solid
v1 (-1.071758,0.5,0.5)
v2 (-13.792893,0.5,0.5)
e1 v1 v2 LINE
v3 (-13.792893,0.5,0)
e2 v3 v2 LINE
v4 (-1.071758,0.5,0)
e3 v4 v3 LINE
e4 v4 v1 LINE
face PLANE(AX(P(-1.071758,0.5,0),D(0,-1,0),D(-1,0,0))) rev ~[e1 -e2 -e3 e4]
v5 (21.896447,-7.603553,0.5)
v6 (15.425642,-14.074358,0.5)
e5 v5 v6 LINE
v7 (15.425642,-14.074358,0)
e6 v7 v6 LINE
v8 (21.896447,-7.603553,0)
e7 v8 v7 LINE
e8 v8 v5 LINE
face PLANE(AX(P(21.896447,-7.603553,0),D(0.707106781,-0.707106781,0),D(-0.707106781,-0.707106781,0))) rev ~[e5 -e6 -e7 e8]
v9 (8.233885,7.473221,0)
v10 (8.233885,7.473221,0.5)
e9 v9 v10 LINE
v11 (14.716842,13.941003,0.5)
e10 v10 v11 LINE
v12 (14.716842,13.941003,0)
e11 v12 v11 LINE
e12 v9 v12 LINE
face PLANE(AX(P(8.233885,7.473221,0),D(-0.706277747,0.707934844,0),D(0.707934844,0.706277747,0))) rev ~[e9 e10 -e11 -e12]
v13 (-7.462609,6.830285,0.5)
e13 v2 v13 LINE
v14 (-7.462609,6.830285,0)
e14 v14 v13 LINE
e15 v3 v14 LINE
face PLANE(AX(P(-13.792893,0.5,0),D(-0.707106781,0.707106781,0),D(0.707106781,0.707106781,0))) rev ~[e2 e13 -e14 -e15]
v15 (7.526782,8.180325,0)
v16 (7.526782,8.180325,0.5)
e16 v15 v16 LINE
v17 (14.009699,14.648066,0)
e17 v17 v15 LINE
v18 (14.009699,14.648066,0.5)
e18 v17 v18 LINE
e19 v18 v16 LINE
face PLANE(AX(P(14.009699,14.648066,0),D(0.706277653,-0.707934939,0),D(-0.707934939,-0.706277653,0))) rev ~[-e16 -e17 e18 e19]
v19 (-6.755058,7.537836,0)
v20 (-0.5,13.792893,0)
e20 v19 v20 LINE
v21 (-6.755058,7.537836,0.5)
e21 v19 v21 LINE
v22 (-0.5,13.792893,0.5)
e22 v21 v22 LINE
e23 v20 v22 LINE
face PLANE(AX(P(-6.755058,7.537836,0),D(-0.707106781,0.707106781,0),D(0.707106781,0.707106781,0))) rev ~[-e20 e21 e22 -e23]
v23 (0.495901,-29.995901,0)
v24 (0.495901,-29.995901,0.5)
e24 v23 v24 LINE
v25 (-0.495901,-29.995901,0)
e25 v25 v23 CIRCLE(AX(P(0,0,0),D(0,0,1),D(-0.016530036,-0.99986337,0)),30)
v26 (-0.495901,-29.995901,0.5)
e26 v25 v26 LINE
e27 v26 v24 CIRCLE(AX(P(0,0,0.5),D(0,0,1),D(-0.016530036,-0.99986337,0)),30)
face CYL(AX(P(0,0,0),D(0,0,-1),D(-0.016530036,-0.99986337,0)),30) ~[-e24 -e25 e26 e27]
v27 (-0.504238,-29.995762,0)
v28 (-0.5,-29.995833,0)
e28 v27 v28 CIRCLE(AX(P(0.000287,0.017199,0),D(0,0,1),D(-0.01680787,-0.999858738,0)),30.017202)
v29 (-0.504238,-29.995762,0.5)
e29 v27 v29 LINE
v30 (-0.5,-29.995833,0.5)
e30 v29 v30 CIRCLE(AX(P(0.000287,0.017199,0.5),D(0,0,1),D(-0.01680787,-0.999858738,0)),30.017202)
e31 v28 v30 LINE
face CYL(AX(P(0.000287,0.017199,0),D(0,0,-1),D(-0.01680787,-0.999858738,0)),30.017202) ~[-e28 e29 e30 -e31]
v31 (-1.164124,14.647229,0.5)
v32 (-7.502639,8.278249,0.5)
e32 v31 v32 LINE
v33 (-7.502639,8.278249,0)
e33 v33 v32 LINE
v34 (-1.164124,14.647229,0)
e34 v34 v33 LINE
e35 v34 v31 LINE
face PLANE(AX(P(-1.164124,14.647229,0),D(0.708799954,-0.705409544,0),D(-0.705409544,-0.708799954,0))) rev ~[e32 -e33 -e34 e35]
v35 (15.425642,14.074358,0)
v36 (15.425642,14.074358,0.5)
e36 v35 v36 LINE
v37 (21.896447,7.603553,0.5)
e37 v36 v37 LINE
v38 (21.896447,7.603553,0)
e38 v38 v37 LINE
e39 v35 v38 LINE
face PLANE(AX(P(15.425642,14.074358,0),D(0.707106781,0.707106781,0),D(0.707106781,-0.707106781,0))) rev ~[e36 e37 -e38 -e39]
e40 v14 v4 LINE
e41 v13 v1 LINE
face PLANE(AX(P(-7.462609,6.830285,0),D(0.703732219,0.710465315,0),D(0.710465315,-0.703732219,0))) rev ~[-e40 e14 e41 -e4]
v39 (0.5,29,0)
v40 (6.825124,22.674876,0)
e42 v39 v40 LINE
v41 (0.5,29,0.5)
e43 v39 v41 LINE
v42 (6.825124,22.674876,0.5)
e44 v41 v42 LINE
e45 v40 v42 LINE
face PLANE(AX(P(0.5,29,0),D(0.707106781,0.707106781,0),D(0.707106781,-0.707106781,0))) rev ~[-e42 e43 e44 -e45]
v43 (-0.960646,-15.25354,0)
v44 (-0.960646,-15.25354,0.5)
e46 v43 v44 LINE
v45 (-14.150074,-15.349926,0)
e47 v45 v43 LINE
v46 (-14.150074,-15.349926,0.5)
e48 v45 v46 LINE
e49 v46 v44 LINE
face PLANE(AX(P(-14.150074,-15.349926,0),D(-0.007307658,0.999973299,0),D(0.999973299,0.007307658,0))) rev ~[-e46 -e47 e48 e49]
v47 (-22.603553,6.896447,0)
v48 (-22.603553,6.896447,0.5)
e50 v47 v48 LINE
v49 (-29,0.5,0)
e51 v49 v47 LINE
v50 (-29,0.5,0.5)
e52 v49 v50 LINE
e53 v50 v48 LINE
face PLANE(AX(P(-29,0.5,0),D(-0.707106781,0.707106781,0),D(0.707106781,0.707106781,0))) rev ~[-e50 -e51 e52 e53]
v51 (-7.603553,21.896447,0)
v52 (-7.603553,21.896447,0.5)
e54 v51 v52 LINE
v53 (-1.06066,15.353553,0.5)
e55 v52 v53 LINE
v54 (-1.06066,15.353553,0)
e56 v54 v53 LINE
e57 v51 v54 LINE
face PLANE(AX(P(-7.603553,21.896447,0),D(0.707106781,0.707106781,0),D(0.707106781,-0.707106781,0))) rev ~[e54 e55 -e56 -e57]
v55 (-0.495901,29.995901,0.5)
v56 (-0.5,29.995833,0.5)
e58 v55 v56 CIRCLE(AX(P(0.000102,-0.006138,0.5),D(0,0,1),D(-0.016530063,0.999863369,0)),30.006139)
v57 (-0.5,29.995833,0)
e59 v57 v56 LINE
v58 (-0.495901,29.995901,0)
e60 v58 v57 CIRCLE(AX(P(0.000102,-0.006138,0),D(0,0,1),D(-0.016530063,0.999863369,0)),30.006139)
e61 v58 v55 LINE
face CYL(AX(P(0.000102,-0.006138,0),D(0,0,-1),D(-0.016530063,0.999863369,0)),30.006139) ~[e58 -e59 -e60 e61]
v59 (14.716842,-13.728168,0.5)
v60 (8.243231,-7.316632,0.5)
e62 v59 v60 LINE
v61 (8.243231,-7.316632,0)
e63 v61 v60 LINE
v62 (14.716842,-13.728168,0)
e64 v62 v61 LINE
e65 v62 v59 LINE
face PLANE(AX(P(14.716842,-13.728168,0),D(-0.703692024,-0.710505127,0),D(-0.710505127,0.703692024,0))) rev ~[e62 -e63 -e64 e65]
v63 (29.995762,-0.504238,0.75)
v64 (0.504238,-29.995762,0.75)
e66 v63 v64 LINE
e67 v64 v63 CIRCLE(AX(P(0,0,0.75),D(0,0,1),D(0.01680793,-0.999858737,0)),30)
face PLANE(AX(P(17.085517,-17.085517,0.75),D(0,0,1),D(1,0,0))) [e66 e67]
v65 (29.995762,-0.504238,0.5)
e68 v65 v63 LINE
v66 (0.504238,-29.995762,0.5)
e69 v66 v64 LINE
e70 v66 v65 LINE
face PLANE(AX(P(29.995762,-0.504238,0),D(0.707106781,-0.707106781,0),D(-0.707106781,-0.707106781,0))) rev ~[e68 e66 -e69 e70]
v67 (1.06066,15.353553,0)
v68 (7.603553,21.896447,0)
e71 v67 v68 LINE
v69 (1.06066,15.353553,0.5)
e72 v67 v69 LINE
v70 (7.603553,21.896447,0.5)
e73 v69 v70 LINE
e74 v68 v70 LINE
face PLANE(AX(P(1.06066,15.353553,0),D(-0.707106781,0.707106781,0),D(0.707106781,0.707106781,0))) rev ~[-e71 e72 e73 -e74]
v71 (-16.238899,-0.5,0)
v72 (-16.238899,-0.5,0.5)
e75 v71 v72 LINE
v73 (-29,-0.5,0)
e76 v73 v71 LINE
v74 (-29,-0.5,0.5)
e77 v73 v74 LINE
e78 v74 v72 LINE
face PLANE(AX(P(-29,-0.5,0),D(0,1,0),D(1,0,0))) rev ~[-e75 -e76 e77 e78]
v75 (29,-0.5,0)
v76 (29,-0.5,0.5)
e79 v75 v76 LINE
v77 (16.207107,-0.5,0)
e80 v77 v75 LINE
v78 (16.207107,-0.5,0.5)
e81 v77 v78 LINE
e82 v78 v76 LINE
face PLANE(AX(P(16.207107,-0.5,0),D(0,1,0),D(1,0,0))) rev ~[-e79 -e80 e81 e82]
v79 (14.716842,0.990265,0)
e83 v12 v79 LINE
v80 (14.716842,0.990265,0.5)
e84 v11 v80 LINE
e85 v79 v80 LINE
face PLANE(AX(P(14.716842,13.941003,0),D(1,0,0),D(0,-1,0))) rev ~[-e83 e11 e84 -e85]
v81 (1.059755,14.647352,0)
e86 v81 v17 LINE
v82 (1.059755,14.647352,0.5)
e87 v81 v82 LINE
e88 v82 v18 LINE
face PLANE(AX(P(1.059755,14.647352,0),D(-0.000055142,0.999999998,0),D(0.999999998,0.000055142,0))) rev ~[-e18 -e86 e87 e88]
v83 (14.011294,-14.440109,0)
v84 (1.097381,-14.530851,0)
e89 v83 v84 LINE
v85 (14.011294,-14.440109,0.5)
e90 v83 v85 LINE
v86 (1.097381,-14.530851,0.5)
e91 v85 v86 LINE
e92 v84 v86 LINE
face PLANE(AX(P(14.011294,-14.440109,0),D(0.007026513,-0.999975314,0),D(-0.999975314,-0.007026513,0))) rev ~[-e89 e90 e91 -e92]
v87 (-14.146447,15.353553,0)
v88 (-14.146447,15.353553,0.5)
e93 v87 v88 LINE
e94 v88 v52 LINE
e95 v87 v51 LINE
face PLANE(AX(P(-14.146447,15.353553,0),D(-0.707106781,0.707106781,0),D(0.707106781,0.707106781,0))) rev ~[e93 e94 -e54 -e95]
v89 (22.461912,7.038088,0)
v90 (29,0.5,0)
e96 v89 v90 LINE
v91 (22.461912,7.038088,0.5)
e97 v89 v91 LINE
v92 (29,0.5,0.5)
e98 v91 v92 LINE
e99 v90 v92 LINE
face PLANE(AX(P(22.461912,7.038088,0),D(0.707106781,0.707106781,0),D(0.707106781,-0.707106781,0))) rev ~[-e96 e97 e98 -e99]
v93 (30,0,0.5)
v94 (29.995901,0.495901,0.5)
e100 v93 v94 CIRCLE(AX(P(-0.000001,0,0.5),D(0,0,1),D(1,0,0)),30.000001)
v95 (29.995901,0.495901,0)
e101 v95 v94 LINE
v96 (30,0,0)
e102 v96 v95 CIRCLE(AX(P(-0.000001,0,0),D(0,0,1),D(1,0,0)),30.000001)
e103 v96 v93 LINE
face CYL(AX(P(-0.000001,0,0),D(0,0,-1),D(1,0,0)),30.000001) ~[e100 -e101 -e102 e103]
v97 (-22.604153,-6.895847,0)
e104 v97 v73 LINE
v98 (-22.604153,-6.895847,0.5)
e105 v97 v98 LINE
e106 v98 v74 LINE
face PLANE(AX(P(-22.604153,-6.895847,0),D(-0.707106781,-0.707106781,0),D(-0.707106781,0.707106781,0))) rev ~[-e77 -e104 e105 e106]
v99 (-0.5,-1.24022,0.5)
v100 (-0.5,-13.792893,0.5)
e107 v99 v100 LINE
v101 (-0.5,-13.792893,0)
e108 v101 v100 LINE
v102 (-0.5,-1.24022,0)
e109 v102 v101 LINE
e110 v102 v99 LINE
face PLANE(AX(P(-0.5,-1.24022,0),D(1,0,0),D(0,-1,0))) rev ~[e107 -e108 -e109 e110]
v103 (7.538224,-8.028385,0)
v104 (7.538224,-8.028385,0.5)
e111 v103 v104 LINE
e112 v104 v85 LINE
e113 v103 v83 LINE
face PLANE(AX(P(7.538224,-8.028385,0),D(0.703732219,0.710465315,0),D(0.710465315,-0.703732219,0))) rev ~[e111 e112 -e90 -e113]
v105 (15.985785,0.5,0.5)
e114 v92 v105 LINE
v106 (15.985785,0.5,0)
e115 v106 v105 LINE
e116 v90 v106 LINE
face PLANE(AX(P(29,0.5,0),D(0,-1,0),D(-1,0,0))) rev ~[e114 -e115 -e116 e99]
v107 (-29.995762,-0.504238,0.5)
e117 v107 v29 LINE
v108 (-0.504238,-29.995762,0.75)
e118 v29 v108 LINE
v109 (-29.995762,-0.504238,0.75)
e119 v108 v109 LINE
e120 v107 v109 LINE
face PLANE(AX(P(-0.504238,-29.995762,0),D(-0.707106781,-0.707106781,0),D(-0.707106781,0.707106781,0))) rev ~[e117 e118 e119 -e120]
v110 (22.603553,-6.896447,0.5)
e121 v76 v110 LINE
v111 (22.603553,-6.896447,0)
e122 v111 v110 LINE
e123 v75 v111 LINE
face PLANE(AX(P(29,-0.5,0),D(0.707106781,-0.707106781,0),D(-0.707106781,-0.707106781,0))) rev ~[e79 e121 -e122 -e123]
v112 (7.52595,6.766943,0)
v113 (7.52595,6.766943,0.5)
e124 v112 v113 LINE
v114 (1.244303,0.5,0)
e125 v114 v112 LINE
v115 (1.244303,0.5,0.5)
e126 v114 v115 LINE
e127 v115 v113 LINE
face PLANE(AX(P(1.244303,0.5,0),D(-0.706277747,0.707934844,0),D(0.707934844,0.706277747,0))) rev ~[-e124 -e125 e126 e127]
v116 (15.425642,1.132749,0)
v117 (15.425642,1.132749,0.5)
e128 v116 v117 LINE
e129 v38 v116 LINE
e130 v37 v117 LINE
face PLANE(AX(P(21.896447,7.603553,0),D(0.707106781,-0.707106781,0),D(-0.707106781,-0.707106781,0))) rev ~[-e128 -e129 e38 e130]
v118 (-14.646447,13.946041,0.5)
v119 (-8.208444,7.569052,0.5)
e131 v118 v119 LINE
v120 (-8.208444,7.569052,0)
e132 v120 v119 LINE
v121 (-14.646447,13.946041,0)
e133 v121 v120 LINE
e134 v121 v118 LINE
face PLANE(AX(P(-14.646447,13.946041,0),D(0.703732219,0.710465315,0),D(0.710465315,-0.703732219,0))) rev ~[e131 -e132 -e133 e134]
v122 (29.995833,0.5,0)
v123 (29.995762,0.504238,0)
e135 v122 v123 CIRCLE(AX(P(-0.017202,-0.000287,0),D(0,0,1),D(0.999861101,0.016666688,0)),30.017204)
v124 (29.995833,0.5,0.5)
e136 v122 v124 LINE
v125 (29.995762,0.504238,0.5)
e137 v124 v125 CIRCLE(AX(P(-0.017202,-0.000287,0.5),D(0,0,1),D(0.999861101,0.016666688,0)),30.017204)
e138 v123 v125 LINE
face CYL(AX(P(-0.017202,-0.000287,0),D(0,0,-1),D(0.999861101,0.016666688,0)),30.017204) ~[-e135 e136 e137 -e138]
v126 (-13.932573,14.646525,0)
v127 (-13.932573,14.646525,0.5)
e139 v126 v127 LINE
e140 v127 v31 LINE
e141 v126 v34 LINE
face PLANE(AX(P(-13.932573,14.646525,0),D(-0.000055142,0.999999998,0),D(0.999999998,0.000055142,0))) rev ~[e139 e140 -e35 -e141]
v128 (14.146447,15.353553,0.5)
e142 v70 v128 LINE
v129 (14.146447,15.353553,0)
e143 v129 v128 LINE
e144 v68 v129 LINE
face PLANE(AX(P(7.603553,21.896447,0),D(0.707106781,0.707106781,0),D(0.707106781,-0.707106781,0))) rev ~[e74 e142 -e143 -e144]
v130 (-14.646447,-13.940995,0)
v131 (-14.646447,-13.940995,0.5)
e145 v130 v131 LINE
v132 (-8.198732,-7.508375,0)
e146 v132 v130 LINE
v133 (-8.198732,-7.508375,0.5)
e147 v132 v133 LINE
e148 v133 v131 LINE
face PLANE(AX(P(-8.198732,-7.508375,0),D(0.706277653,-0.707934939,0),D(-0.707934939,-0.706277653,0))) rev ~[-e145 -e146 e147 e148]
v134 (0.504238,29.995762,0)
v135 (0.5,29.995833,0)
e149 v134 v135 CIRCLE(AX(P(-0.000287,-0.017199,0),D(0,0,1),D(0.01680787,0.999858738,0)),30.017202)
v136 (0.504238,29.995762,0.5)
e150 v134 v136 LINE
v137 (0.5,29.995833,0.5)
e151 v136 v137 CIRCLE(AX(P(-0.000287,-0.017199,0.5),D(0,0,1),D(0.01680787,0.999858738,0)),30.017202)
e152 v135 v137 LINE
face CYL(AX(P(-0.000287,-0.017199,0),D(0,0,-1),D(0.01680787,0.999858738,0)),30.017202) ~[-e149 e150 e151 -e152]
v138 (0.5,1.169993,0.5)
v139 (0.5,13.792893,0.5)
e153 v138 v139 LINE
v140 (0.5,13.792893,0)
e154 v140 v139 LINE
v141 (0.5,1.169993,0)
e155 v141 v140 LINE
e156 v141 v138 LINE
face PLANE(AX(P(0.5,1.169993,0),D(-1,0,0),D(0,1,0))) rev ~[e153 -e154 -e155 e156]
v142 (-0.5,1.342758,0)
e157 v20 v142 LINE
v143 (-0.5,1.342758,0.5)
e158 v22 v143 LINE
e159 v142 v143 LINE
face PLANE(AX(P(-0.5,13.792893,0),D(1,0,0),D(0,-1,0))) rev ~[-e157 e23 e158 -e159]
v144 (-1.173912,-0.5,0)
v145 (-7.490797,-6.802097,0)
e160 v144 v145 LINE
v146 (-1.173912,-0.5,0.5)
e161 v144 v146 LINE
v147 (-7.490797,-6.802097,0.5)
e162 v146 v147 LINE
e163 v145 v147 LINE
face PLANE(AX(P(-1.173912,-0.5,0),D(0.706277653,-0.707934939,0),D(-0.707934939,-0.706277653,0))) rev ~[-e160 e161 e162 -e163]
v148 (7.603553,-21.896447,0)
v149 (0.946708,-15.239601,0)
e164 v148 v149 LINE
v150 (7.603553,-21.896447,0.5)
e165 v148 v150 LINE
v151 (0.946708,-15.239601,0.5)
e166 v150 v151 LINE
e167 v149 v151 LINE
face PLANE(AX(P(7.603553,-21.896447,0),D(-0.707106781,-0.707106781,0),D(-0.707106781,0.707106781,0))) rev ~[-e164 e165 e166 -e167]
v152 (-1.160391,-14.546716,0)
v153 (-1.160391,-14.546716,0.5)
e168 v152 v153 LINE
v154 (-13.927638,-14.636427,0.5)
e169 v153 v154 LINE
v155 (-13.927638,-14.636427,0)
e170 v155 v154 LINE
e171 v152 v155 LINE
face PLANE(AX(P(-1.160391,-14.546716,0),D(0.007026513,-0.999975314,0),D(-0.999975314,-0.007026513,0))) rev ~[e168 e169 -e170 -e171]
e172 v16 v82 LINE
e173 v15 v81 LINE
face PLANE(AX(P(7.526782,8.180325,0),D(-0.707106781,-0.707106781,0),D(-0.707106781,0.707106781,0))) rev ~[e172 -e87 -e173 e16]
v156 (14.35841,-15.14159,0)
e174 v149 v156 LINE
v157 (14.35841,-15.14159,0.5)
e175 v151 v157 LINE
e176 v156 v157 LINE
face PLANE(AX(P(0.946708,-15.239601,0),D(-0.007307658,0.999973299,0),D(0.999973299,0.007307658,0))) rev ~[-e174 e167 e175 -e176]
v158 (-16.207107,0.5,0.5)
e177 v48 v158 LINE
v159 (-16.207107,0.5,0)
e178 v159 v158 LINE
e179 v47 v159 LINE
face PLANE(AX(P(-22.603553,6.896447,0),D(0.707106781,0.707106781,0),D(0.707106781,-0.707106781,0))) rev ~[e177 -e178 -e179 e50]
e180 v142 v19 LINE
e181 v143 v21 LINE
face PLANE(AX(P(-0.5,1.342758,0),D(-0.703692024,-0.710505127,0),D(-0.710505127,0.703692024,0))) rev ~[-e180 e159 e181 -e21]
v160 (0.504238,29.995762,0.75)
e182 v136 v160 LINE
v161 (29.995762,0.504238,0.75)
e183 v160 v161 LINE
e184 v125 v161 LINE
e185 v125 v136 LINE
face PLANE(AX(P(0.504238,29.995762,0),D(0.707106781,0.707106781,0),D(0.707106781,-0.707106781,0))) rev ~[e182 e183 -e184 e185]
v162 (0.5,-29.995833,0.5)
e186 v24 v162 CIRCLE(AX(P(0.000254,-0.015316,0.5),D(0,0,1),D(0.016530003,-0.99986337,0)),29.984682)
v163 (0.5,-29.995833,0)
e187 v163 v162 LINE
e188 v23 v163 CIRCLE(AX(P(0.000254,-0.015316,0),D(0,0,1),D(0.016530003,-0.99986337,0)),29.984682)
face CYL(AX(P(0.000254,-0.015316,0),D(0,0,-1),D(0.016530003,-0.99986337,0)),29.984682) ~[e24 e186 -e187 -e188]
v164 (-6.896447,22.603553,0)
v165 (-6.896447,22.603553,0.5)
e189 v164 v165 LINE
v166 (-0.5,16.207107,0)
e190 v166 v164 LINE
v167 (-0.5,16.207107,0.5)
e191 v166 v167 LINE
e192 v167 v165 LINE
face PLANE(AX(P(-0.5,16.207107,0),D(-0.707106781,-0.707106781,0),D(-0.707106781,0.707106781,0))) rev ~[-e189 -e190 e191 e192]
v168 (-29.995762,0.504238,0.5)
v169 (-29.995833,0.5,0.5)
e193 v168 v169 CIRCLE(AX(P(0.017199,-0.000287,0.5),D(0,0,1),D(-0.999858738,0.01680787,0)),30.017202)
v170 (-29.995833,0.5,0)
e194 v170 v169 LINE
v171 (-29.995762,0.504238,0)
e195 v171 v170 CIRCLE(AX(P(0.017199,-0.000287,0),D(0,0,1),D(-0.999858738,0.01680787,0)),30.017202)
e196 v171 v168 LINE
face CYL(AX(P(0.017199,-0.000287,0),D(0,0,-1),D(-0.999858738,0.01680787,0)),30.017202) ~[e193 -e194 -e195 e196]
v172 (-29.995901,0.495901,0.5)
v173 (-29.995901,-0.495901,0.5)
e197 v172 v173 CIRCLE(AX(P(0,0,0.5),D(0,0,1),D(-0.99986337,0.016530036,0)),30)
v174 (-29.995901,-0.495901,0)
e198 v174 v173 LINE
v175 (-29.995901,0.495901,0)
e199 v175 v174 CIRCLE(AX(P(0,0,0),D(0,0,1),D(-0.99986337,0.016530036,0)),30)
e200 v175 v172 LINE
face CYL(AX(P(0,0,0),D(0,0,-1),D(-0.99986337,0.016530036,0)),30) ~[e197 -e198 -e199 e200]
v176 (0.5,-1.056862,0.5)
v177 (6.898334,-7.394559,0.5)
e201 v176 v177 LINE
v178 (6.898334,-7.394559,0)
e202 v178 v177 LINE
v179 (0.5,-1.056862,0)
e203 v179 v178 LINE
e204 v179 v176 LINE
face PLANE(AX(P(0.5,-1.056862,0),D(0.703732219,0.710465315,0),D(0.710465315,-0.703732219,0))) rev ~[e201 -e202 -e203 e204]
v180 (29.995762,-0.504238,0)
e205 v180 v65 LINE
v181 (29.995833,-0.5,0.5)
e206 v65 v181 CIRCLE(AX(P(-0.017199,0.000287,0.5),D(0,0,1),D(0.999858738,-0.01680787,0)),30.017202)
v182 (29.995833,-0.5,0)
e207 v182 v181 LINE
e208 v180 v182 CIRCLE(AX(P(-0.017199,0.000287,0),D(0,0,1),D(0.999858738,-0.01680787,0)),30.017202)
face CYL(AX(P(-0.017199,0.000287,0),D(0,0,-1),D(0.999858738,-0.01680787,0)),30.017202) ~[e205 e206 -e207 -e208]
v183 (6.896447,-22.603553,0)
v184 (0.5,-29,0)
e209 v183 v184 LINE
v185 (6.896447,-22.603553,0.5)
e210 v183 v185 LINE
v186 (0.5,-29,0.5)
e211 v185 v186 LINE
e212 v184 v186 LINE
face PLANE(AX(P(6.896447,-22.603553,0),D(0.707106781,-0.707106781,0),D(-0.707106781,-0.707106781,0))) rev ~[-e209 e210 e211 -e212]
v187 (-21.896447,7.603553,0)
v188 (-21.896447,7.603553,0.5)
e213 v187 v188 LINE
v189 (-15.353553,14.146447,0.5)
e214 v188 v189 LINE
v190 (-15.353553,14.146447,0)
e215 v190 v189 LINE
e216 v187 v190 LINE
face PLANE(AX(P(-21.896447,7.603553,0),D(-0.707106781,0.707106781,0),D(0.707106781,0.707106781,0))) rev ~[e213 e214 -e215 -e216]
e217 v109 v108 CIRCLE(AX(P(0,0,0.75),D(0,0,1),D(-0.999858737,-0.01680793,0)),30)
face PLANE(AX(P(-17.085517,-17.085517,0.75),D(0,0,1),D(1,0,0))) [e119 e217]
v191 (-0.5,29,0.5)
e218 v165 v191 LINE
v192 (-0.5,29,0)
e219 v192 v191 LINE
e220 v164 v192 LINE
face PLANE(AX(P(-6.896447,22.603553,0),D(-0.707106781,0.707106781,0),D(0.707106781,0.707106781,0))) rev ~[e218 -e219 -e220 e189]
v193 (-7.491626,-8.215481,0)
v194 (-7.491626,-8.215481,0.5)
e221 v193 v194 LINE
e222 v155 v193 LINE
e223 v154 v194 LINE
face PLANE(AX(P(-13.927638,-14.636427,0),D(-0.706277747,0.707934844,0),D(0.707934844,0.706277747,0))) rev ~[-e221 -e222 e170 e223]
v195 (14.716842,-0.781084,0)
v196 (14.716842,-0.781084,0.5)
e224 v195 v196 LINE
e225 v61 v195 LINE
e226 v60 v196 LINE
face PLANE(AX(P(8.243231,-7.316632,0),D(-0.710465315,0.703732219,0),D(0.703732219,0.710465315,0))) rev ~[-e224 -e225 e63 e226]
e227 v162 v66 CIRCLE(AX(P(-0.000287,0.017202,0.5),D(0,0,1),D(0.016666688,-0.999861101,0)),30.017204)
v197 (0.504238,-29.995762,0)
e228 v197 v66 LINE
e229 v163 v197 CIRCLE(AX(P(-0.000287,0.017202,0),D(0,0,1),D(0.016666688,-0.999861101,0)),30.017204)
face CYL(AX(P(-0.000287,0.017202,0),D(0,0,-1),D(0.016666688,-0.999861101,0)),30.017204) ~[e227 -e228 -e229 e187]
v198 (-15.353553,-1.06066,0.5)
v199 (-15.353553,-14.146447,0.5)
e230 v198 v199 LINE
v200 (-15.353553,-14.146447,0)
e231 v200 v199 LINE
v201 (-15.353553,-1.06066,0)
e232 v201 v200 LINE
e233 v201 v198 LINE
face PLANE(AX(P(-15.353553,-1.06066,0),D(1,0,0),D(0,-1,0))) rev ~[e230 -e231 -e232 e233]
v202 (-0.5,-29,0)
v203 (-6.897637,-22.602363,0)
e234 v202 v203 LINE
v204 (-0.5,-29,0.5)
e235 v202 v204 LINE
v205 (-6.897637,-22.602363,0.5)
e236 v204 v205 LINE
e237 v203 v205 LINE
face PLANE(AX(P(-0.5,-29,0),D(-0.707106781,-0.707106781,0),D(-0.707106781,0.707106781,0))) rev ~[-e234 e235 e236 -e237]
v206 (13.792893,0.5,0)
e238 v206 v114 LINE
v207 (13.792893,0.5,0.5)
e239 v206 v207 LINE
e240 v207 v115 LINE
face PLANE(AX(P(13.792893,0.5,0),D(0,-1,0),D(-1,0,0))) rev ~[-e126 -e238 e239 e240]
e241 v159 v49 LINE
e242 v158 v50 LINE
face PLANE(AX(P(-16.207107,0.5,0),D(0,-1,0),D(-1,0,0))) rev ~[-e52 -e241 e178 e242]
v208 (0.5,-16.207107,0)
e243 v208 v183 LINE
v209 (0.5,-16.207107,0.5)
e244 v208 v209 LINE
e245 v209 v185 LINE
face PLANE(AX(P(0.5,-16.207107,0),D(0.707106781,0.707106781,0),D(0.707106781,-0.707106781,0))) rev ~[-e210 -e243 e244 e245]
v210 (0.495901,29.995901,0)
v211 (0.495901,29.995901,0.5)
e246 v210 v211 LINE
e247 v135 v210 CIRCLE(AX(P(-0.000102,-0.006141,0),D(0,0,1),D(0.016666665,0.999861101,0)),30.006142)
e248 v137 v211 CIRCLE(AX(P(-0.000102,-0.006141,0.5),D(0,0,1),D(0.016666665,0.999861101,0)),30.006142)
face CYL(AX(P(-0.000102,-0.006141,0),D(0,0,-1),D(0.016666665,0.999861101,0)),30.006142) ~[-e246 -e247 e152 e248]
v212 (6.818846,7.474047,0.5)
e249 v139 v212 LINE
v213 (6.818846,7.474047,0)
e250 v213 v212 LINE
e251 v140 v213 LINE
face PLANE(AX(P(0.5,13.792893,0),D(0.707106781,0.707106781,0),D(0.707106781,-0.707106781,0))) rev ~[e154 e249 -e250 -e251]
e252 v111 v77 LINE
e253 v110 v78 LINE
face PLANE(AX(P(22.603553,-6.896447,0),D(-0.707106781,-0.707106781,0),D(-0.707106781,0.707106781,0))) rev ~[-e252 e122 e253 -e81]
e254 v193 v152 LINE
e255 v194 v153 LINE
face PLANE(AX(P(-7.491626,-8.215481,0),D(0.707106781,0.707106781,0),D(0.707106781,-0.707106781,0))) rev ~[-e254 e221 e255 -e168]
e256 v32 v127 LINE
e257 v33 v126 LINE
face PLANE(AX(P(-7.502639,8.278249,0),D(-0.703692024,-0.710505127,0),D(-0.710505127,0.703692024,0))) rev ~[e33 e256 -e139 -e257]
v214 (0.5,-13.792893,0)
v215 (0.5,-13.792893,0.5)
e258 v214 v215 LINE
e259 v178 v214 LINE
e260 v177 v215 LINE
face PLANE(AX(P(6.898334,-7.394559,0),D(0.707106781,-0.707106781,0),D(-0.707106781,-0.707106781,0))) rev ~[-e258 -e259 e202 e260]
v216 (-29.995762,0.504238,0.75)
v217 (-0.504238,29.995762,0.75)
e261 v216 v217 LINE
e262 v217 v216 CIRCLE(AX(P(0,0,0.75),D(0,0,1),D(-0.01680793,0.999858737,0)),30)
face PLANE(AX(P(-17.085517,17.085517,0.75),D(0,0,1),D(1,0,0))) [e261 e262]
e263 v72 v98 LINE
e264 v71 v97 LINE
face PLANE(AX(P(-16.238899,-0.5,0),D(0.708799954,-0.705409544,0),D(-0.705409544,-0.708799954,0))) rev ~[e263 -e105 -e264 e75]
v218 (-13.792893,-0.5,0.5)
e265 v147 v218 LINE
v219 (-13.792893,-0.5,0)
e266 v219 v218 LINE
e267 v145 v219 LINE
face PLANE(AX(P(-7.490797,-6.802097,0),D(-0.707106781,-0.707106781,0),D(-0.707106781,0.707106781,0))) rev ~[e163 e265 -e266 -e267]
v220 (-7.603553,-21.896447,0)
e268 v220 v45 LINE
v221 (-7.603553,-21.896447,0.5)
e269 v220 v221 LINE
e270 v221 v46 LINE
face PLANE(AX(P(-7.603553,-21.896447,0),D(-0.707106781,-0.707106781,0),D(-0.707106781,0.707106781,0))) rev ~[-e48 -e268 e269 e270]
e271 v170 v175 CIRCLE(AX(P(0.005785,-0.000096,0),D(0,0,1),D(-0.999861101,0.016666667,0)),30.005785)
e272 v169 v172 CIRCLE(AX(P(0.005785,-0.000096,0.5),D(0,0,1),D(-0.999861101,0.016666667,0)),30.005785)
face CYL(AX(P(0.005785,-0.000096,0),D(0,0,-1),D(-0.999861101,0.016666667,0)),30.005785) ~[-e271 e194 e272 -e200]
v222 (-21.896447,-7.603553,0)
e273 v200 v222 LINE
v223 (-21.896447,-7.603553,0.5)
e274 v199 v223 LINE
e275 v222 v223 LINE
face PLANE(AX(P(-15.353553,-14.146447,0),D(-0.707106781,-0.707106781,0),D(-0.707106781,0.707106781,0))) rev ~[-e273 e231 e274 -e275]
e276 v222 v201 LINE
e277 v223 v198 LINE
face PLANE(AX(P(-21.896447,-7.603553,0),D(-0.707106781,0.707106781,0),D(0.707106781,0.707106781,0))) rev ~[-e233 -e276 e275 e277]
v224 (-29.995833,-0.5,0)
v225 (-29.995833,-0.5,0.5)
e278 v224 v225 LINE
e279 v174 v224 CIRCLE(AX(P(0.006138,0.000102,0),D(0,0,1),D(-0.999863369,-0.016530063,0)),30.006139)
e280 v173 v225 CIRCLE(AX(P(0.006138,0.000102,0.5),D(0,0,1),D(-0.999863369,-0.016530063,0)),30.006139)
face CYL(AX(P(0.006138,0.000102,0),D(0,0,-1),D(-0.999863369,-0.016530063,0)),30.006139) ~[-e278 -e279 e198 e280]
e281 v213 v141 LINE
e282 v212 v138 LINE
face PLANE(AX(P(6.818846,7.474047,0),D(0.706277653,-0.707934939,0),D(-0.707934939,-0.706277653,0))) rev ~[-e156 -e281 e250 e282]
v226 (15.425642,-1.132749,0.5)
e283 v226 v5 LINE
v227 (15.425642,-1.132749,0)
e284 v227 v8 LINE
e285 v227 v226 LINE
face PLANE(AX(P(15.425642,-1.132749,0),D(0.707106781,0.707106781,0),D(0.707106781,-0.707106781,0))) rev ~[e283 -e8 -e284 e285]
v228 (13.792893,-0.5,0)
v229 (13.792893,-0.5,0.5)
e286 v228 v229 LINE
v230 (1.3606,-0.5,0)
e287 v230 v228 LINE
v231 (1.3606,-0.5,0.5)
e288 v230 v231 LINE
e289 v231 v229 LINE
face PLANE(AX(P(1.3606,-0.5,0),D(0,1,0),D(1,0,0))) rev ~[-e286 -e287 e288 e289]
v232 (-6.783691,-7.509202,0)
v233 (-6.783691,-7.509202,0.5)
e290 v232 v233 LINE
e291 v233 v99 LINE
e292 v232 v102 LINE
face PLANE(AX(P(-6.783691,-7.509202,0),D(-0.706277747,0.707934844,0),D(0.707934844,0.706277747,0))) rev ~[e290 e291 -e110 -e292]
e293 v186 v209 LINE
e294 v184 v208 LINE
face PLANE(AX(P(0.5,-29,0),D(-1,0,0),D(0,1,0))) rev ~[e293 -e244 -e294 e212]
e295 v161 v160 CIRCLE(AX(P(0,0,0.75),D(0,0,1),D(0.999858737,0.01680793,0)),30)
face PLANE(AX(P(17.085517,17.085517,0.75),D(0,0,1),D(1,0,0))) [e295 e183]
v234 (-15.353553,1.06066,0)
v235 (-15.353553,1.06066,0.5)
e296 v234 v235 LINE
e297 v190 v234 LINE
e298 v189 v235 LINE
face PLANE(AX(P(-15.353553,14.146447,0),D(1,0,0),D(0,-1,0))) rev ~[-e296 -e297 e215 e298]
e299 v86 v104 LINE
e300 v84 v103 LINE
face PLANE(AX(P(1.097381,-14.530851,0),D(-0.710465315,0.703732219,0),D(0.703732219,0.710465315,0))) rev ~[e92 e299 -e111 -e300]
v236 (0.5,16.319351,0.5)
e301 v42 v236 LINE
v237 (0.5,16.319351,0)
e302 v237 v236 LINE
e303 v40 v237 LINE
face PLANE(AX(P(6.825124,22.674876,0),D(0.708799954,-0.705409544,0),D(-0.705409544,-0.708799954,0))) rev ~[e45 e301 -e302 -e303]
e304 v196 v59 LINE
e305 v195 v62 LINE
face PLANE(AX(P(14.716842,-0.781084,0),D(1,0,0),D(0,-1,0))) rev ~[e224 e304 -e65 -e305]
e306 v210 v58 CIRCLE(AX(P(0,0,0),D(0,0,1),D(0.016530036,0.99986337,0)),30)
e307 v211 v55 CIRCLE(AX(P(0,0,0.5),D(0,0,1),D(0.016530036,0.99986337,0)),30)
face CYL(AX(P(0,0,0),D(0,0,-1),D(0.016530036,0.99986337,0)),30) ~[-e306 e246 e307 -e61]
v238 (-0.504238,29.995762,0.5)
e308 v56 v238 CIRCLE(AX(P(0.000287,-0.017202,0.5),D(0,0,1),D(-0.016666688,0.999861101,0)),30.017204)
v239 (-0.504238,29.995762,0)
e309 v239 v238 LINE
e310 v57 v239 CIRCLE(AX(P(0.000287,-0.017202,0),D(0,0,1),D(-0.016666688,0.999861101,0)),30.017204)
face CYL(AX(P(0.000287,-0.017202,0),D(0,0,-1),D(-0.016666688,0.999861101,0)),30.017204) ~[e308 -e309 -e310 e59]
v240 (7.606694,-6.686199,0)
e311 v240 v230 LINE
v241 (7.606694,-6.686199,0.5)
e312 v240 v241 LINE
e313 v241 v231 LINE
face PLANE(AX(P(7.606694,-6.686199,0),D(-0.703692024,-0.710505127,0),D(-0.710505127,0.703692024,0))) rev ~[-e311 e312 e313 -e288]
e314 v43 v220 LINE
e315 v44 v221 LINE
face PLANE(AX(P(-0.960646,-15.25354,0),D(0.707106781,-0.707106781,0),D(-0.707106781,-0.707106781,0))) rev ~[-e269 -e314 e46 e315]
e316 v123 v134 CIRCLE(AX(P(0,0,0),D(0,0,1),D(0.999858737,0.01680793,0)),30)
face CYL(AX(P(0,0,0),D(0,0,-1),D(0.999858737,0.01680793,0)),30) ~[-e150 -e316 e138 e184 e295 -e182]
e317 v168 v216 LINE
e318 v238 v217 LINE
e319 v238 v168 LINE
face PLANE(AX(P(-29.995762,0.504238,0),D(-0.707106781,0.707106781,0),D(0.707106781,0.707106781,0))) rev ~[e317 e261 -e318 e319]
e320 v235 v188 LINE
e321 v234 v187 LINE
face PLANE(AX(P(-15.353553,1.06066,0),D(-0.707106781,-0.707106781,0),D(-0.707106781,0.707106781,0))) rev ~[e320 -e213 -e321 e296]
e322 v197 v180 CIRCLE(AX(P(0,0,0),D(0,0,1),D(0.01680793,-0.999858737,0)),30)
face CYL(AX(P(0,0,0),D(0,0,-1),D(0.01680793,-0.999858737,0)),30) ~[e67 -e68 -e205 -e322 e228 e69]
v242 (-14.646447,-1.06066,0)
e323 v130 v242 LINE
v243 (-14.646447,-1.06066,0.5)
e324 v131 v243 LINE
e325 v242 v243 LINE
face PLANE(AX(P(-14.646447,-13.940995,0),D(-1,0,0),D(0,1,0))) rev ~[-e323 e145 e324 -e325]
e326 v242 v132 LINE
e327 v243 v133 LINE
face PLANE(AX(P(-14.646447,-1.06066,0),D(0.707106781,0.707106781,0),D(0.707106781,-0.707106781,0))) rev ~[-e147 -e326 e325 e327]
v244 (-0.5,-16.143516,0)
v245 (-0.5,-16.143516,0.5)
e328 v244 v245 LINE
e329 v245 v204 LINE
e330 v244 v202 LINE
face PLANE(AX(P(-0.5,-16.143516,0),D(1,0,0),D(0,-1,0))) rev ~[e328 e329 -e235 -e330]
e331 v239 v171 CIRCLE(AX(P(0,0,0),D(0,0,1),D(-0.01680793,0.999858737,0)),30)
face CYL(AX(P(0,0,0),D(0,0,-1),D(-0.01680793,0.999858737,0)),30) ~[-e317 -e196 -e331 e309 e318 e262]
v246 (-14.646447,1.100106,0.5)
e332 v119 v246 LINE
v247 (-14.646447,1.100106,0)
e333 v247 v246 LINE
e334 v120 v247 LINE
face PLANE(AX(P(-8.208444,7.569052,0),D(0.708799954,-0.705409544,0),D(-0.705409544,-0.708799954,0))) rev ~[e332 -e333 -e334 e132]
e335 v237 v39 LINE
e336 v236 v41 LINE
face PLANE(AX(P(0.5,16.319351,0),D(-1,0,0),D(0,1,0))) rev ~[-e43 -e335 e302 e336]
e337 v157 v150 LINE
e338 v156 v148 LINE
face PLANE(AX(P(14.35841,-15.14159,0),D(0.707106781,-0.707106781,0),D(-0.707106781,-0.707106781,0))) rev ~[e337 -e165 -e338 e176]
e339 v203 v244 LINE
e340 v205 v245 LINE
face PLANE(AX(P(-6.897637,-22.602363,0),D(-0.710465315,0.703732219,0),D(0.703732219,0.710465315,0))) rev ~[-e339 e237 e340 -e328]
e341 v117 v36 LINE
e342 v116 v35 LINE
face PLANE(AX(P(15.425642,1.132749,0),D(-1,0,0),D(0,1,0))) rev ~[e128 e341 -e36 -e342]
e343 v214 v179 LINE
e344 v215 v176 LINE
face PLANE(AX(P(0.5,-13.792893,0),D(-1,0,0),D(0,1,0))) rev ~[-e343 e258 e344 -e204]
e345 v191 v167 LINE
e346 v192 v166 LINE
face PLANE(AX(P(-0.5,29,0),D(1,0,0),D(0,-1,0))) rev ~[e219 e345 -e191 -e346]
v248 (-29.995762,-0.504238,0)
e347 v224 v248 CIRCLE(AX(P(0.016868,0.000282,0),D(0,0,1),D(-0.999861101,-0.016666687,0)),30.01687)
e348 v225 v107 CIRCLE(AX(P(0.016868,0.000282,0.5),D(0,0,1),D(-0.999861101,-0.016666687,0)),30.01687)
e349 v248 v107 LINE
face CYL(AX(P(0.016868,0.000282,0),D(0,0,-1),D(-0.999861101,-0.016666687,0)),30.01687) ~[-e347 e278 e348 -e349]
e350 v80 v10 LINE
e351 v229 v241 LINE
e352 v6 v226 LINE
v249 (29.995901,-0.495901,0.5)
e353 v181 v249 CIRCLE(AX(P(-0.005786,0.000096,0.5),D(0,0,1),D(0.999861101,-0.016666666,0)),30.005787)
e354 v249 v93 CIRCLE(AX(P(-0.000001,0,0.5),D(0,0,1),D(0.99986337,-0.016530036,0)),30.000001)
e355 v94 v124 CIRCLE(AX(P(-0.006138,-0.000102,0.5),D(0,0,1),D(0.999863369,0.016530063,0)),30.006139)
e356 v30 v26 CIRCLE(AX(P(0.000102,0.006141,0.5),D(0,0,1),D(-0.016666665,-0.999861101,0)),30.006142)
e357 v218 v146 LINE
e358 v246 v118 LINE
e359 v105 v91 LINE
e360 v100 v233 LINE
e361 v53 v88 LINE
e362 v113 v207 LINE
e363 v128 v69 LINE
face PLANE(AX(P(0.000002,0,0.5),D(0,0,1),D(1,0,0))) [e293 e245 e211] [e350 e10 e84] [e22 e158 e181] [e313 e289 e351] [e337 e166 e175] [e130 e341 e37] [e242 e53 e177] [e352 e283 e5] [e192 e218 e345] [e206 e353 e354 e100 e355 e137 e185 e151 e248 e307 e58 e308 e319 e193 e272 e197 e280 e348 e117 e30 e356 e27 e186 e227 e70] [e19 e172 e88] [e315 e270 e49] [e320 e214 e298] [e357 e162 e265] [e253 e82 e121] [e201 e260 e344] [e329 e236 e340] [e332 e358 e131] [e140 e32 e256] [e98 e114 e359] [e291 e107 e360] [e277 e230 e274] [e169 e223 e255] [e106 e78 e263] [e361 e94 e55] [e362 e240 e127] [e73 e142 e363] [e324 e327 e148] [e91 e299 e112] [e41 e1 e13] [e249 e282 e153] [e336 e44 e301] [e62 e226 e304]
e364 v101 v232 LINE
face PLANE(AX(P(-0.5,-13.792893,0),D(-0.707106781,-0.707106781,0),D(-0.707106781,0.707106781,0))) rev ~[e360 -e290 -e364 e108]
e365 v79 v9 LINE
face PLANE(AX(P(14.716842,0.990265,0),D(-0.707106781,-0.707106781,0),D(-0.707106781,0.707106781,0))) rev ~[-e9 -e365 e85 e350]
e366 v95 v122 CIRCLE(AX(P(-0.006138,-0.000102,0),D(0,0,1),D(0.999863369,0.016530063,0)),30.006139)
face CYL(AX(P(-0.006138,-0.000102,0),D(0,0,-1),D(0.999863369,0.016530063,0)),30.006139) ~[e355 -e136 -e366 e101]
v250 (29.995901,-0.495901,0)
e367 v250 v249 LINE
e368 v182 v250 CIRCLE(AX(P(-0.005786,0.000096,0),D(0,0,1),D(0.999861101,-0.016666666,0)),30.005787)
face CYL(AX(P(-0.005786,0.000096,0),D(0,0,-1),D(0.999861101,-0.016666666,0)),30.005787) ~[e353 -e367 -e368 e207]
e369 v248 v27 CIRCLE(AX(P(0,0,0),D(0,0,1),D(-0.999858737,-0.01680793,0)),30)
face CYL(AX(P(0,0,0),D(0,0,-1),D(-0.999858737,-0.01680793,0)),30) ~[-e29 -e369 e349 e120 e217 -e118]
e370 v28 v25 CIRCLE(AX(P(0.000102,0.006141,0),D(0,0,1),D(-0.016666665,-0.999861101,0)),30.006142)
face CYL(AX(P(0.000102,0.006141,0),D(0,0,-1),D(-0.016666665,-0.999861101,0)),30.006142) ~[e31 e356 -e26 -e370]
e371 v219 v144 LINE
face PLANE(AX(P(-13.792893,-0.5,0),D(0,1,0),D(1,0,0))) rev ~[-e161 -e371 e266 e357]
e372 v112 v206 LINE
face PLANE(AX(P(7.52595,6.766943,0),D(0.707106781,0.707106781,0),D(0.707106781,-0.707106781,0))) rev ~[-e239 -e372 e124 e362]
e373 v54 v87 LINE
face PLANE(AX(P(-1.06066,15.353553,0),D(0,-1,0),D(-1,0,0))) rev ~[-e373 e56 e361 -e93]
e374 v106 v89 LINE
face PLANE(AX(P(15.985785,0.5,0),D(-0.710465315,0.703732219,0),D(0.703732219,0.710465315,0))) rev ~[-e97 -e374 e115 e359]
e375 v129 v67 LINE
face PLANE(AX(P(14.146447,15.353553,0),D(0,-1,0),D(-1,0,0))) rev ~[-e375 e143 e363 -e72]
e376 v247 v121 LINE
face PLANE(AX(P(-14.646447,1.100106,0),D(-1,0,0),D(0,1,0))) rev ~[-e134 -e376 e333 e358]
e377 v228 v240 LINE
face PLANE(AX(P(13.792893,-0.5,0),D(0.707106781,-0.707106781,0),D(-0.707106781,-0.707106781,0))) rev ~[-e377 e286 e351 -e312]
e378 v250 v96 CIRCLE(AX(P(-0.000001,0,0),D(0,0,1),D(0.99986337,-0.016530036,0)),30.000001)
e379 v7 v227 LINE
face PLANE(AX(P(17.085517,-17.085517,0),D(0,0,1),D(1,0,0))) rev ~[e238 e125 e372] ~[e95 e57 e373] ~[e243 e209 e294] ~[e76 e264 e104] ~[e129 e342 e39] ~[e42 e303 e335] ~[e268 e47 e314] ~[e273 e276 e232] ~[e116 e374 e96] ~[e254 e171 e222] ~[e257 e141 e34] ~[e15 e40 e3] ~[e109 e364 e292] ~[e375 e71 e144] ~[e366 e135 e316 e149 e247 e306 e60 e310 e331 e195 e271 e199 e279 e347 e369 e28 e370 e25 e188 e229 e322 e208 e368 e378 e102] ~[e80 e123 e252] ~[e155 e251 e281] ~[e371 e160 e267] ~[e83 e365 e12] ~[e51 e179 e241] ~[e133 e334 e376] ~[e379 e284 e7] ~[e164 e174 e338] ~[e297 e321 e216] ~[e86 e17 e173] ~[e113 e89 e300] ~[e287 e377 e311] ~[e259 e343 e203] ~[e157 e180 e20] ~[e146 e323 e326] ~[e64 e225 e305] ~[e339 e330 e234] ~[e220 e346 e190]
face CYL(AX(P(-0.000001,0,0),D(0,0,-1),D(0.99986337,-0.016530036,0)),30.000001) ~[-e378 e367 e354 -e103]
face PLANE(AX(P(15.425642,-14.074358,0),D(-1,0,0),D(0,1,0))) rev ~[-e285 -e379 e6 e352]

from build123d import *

# Parameters (mm, degrees)
F1_DEPTH = 0.5
F2_DEPTH = 0.75


with BuildPart() as f1:
    # F0 (on Top) → F1 (new body)
    with BuildSketch(Plane.XY):
        with BuildLine():
            ThreePointArc((29.9959010885, -0.4959010884), (29.9989752546, -0.247959014), (30, 0))
            ThreePointArc((30, 0), (29.9989752546, 0.2479590141), (29.9959010885, 0.4959010885))
            ThreePointArc((29.9959010885, 0.4959010885), (29.9958671362, 0.4979505454), (29.9958330439, 0.5))
            ThreePointArc((29.9958330439, 0.5), (29.9957976483, 0.5021189497), (29.9957621031, 0.5042378969))
            Line((29.9957621031, 0.5042378969), (0.5042378969, 29.9957621031))
            ThreePointArc((0.5042378969, 29.9957621031), (0.5021189497, 29.9957976483), (0.5, 29.9958330439))
            ThreePointArc((0.5, 29.9958330439), (0.4979505454, 29.9958671362), (0.4959010885, 29.9959010885))
            ThreePointArc((0.4959010885, 29.9959010885), (0, 30), (-0.4959010885, 29.9959010885))
            ThreePointArc((-0.4959010885, 29.9959010885), (-0.4979505454, 29.9958671362), (-0.5, 29.9958330439))
            ThreePointArc((-0.5, 29.9958330439), (-0.5021189497, 29.9957976483), (-0.5042378969, 29.9957621031))
            Line((-0.5042378969, 29.9957621031), (-29.9957621031, 0.5042378969))
            ThreePointArc((-29.9957621031, 0.5042378969), (-29.9957976483, 0.5021189497), (-29.9958330439, 0.5))
            ThreePointArc((-29.9958330439, 0.5), (-29.9958671362, 0.4979505455), (-29.9959010885, 0.4959010886))
            ThreePointArc((-29.9959010885, 0.4959010886), (-30, 1e-10), (-29.9959010885, -0.4959010884))
            ThreePointArc((-29.9959010885, -0.4959010884), (-29.9958671362, -0.4979505453), (-29.9958330439, -0.4999999999))
            ThreePointArc((-29.9958330439, -0.4999999999), (-29.9957976483, -0.5021189497), (-29.9957621031, -0.5042378969))
            Line((-29.9957621031, -0.5042378969), (-0.5042378969, -29.9957621031))
            ThreePointArc((-0.5042378969, -29.9957621031), (-0.5021189497, -29.9957976483), (-0.5, -29.9958330439))
            ThreePointArc((-0.5, -29.9958330439), (-0.4979505454, -29.9958671362), (-0.4959010885, -29.9959010885))
            ThreePointArc((-0.4959010885, -29.9959010885), (1.6e-09, -30), (0.4959010917, -29.9959010884))
            ThreePointArc((0.4959010917, -29.9959010884), (0.497950547, -29.9958671362), (0.5, -29.9958330439))
            ThreePointArc((0.5, -29.9958330439), (0.5021189497, -29.9957976483), (0.5042378969, -29.9957621031))
            Line((0.5042378969, -29.9957621031), (29.9957621031, -0.5042378969))
            ThreePointArc((29.9957621031, -0.5042378969), (29.9957976483, -0.5021189497), (29.9958330439, -0.5))
            ThreePointArc((29.9958330439, -0.5), (29.9958671362, -0.4979505454), (29.9959010885, -0.4959010884))
        make_face()
        Polygon((-0.4999999985, -28.9999999984), (-6.8976368761, -22.6023631214), (-0.4999999992, -16.1435156014), align=None, mode=Mode.SUBTRACT)
        Polygon((-0.9606463591, -15.253539578), (-7.6035533893, -21.8964466082), (-14.1500740262, -15.349925972), align=None, mode=Mode.SUBTRACT)
        Polygon((-15.3535533902, -1.0606601714), (-15.3535533898, -14.1464466085), (-21.8964466089, -7.6035533901), align=None, mode=Mode.SUBTRACT)
        Polygon((-16.2388987995, -0.5), (-22.6041527374, -6.8958472617), (-28.9999999999, -0.4999999999), align=None, mode=Mode.SUBTRACT)
        Polygon((-1.1603910767, -14.5467157044), (-13.9276378166, -14.6364271465), (-7.4916261871, -8.2154805941), align=None, mode=Mode.SUBTRACT)
        Polygon((-8.1987320116, -7.5083747696), (-14.6464466094, -13.9409951753), (-14.6464466094, -1.0606601718), align=None, mode=Mode.SUBTRACT)
        Polygon((-6.783690857, -7.5092023618), (-0.5, -1.2402200376), (-0.4999999993, -13.7928932195), align=None, mode=Mode.SUBTRACT)
        Polygon((-13.7928932189, -0.5), (-1.1739120379, -0.5), (-7.4907965869, -6.8020966319), align=None, mode=Mode.SUBTRACT)
        Polygon((0.5, -16.2071067812), (6.8964466094, -22.6035533906), (0.5, -29), align=None, mode=Mode.SUBTRACT)
        Polygon((0.9467076968, -15.2396009156), (14.3584098275, -15.1415901725), (7.6035533906, -21.8964466094), align=None, mode=Mode.SUBTRACT)
        Polygon((14.0112935653, -14.4401090307), (1.0973812984, -14.5308510455), (7.5382237147, -8.0283846086), align=None, mode=Mode.SUBTRACT)
        Polygon((0.5, -13.7928932189), (0.5, -1.0568622983), (6.8983340381, -7.3945591808), align=None, mode=Mode.SUBTRACT)
        Polygon((14.7168418348, -0.7810836543), (14.7168418349, -13.7281676466), (8.2432305686, -7.3166324636), align=None, mode=Mode.SUBTRACT)
        Polygon((1.360599895, -0.5), (13.7928932189, -0.5), (7.6066937554, -6.6861994634), align=None, mode=Mode.SUBTRACT)
        Polygon((15.4256417891, -1.1327485702), (21.8964466095, -7.6035533905), (15.4256417891, -14.0743582109), align=None, mode=Mode.SUBTRACT)
        Polygon((29, -0.5), (22.6035533906, -6.8964466094), (16.2071067811, -0.5), align=None, mode=Mode.SUBTRACT)
        Polygon((-29, 0.5), (-22.6035533906, 6.8964466094), (-16.2071067813, 0.5), align=None, mode=Mode.SUBTRACT)
        Polygon((-21.8964466094, 7.6035533906), (-15.3535533906, 14.1464466094), (-15.3535533903, 1.0606601714), align=None, mode=Mode.SUBTRACT)
        Polygon((-13.7928932187, 0.5), (-7.4626086697, 6.8302845491), (-1.0717578841, 0.5000000001), align=None, mode=Mode.SUBTRACT)
        Polygon((-14.6464466094, 1.1001059941), (-14.6464466094, 13.9460410951), (-8.2084439991, 7.5690515803), align=None, mode=Mode.SUBTRACT)
        Polygon((-13.9325727794, 14.6465249656), (-1.1641236528, 14.6472290479), (-7.5026392249, 8.2782486645), align=None, mode=Mode.SUBTRACT)
        Polygon((-6.7550575733, 7.5378356455), (-0.5, 13.7928932188), (-0.5, 1.3427584231), align=None, mode=Mode.SUBTRACT)
        Polygon((-1.0606601718, 15.3535533906), (-14.1464466094, 15.3535533906), (-7.6035533906, 21.8964466094), align=None, mode=Mode.SUBTRACT)
        Polygon((-6.8964466094, 22.6035533906), (-0.5, 29), (-0.5, 16.2071067812), align=None, mode=Mode.SUBTRACT)
        Polygon((0.5000000005, 1.1699933855), (0.500000001, 13.7928932188), (6.8188461713, 7.4740470475), align=None, mode=Mode.SUBTRACT)
        Polygon((13.7928932184, 0.4999999994), (1.2443030111, 0.499999999), (7.5259499895, 6.7669432292), align=None, mode=Mode.SUBTRACT)
        Polygon((14.7168418348, 0.9902649463), (8.2338853191, 7.473221462), (14.7168418347, 13.941003014), align=None, mode=Mode.SUBTRACT)
        Polygon((14.0096987803, 14.6480657682), (7.5267815959, 8.1803251852), (1.0597551034, 14.6473516778), align=None, mode=Mode.SUBTRACT)
        Polygon((15.9857846309, 0.5000000004), (22.4619115095, 7.0380884906), (29, 0.5), align=None, mode=Mode.SUBTRACT)
        Polygon((15.4256417891, 1.1327485702), (15.4256417891, 14.074358211), (21.8964466094, 7.6035533906), align=None, mode=Mode.SUBTRACT)
        Polygon((1.0606601718, 15.3535533906), (7.6035533906, 21.8964466094), (14.1464466094, 15.3535533907), align=None, mode=Mode.SUBTRACT)
        Polygon((0.5, 16.3193509792), (0.5, 29), (6.825124286, 22.674875714), align=None, mode=Mode.SUBTRACT)
    extrude(amount=F1_DEPTH)

    # F0 (on Top) → F2 (join)
    with BuildSketch(Plane.XY):
        with BuildLine():
            ThreePointArc((0.5042378969, -29.9957621031), (21.2132034356, -21.2132034356), (29.9957621031, -0.5042378969))
            Line((29.9957621031, -0.5042378969), (0.5042378969, -29.9957621031))
        make_face()
        with BuildLine():
            Line((0.5042378969, 29.9957621031), (29.9957621031, 0.5042378969))
            ThreePointArc((29.9957621031, 0.5042378969), (21.2132034356, 21.2132034356), (0.5042378969, 29.9957621031))
        make_face()
        with BuildLine():
            Line((-29.9957621031, 0.5042378969), (-0.5042378969, 29.9957621031))
            ThreePointArc((-0.5042378969, 29.9957621031), (-21.2132034356, 21.2132034356), (-29.9957621031, 0.5042378969))
        make_face()
        with BuildLine():
            ThreePointArc((-29.9957621031, -0.5042378969), (-21.2132034356, -21.2132034356), (-0.5042378969, -29.9957621031))
            Line((-0.5042378969, -29.9957621031), (-29.9957621031, -0.5042378969))
        make_face()
    extrude(amount=F2_DEPTH)


solid = f1.part
